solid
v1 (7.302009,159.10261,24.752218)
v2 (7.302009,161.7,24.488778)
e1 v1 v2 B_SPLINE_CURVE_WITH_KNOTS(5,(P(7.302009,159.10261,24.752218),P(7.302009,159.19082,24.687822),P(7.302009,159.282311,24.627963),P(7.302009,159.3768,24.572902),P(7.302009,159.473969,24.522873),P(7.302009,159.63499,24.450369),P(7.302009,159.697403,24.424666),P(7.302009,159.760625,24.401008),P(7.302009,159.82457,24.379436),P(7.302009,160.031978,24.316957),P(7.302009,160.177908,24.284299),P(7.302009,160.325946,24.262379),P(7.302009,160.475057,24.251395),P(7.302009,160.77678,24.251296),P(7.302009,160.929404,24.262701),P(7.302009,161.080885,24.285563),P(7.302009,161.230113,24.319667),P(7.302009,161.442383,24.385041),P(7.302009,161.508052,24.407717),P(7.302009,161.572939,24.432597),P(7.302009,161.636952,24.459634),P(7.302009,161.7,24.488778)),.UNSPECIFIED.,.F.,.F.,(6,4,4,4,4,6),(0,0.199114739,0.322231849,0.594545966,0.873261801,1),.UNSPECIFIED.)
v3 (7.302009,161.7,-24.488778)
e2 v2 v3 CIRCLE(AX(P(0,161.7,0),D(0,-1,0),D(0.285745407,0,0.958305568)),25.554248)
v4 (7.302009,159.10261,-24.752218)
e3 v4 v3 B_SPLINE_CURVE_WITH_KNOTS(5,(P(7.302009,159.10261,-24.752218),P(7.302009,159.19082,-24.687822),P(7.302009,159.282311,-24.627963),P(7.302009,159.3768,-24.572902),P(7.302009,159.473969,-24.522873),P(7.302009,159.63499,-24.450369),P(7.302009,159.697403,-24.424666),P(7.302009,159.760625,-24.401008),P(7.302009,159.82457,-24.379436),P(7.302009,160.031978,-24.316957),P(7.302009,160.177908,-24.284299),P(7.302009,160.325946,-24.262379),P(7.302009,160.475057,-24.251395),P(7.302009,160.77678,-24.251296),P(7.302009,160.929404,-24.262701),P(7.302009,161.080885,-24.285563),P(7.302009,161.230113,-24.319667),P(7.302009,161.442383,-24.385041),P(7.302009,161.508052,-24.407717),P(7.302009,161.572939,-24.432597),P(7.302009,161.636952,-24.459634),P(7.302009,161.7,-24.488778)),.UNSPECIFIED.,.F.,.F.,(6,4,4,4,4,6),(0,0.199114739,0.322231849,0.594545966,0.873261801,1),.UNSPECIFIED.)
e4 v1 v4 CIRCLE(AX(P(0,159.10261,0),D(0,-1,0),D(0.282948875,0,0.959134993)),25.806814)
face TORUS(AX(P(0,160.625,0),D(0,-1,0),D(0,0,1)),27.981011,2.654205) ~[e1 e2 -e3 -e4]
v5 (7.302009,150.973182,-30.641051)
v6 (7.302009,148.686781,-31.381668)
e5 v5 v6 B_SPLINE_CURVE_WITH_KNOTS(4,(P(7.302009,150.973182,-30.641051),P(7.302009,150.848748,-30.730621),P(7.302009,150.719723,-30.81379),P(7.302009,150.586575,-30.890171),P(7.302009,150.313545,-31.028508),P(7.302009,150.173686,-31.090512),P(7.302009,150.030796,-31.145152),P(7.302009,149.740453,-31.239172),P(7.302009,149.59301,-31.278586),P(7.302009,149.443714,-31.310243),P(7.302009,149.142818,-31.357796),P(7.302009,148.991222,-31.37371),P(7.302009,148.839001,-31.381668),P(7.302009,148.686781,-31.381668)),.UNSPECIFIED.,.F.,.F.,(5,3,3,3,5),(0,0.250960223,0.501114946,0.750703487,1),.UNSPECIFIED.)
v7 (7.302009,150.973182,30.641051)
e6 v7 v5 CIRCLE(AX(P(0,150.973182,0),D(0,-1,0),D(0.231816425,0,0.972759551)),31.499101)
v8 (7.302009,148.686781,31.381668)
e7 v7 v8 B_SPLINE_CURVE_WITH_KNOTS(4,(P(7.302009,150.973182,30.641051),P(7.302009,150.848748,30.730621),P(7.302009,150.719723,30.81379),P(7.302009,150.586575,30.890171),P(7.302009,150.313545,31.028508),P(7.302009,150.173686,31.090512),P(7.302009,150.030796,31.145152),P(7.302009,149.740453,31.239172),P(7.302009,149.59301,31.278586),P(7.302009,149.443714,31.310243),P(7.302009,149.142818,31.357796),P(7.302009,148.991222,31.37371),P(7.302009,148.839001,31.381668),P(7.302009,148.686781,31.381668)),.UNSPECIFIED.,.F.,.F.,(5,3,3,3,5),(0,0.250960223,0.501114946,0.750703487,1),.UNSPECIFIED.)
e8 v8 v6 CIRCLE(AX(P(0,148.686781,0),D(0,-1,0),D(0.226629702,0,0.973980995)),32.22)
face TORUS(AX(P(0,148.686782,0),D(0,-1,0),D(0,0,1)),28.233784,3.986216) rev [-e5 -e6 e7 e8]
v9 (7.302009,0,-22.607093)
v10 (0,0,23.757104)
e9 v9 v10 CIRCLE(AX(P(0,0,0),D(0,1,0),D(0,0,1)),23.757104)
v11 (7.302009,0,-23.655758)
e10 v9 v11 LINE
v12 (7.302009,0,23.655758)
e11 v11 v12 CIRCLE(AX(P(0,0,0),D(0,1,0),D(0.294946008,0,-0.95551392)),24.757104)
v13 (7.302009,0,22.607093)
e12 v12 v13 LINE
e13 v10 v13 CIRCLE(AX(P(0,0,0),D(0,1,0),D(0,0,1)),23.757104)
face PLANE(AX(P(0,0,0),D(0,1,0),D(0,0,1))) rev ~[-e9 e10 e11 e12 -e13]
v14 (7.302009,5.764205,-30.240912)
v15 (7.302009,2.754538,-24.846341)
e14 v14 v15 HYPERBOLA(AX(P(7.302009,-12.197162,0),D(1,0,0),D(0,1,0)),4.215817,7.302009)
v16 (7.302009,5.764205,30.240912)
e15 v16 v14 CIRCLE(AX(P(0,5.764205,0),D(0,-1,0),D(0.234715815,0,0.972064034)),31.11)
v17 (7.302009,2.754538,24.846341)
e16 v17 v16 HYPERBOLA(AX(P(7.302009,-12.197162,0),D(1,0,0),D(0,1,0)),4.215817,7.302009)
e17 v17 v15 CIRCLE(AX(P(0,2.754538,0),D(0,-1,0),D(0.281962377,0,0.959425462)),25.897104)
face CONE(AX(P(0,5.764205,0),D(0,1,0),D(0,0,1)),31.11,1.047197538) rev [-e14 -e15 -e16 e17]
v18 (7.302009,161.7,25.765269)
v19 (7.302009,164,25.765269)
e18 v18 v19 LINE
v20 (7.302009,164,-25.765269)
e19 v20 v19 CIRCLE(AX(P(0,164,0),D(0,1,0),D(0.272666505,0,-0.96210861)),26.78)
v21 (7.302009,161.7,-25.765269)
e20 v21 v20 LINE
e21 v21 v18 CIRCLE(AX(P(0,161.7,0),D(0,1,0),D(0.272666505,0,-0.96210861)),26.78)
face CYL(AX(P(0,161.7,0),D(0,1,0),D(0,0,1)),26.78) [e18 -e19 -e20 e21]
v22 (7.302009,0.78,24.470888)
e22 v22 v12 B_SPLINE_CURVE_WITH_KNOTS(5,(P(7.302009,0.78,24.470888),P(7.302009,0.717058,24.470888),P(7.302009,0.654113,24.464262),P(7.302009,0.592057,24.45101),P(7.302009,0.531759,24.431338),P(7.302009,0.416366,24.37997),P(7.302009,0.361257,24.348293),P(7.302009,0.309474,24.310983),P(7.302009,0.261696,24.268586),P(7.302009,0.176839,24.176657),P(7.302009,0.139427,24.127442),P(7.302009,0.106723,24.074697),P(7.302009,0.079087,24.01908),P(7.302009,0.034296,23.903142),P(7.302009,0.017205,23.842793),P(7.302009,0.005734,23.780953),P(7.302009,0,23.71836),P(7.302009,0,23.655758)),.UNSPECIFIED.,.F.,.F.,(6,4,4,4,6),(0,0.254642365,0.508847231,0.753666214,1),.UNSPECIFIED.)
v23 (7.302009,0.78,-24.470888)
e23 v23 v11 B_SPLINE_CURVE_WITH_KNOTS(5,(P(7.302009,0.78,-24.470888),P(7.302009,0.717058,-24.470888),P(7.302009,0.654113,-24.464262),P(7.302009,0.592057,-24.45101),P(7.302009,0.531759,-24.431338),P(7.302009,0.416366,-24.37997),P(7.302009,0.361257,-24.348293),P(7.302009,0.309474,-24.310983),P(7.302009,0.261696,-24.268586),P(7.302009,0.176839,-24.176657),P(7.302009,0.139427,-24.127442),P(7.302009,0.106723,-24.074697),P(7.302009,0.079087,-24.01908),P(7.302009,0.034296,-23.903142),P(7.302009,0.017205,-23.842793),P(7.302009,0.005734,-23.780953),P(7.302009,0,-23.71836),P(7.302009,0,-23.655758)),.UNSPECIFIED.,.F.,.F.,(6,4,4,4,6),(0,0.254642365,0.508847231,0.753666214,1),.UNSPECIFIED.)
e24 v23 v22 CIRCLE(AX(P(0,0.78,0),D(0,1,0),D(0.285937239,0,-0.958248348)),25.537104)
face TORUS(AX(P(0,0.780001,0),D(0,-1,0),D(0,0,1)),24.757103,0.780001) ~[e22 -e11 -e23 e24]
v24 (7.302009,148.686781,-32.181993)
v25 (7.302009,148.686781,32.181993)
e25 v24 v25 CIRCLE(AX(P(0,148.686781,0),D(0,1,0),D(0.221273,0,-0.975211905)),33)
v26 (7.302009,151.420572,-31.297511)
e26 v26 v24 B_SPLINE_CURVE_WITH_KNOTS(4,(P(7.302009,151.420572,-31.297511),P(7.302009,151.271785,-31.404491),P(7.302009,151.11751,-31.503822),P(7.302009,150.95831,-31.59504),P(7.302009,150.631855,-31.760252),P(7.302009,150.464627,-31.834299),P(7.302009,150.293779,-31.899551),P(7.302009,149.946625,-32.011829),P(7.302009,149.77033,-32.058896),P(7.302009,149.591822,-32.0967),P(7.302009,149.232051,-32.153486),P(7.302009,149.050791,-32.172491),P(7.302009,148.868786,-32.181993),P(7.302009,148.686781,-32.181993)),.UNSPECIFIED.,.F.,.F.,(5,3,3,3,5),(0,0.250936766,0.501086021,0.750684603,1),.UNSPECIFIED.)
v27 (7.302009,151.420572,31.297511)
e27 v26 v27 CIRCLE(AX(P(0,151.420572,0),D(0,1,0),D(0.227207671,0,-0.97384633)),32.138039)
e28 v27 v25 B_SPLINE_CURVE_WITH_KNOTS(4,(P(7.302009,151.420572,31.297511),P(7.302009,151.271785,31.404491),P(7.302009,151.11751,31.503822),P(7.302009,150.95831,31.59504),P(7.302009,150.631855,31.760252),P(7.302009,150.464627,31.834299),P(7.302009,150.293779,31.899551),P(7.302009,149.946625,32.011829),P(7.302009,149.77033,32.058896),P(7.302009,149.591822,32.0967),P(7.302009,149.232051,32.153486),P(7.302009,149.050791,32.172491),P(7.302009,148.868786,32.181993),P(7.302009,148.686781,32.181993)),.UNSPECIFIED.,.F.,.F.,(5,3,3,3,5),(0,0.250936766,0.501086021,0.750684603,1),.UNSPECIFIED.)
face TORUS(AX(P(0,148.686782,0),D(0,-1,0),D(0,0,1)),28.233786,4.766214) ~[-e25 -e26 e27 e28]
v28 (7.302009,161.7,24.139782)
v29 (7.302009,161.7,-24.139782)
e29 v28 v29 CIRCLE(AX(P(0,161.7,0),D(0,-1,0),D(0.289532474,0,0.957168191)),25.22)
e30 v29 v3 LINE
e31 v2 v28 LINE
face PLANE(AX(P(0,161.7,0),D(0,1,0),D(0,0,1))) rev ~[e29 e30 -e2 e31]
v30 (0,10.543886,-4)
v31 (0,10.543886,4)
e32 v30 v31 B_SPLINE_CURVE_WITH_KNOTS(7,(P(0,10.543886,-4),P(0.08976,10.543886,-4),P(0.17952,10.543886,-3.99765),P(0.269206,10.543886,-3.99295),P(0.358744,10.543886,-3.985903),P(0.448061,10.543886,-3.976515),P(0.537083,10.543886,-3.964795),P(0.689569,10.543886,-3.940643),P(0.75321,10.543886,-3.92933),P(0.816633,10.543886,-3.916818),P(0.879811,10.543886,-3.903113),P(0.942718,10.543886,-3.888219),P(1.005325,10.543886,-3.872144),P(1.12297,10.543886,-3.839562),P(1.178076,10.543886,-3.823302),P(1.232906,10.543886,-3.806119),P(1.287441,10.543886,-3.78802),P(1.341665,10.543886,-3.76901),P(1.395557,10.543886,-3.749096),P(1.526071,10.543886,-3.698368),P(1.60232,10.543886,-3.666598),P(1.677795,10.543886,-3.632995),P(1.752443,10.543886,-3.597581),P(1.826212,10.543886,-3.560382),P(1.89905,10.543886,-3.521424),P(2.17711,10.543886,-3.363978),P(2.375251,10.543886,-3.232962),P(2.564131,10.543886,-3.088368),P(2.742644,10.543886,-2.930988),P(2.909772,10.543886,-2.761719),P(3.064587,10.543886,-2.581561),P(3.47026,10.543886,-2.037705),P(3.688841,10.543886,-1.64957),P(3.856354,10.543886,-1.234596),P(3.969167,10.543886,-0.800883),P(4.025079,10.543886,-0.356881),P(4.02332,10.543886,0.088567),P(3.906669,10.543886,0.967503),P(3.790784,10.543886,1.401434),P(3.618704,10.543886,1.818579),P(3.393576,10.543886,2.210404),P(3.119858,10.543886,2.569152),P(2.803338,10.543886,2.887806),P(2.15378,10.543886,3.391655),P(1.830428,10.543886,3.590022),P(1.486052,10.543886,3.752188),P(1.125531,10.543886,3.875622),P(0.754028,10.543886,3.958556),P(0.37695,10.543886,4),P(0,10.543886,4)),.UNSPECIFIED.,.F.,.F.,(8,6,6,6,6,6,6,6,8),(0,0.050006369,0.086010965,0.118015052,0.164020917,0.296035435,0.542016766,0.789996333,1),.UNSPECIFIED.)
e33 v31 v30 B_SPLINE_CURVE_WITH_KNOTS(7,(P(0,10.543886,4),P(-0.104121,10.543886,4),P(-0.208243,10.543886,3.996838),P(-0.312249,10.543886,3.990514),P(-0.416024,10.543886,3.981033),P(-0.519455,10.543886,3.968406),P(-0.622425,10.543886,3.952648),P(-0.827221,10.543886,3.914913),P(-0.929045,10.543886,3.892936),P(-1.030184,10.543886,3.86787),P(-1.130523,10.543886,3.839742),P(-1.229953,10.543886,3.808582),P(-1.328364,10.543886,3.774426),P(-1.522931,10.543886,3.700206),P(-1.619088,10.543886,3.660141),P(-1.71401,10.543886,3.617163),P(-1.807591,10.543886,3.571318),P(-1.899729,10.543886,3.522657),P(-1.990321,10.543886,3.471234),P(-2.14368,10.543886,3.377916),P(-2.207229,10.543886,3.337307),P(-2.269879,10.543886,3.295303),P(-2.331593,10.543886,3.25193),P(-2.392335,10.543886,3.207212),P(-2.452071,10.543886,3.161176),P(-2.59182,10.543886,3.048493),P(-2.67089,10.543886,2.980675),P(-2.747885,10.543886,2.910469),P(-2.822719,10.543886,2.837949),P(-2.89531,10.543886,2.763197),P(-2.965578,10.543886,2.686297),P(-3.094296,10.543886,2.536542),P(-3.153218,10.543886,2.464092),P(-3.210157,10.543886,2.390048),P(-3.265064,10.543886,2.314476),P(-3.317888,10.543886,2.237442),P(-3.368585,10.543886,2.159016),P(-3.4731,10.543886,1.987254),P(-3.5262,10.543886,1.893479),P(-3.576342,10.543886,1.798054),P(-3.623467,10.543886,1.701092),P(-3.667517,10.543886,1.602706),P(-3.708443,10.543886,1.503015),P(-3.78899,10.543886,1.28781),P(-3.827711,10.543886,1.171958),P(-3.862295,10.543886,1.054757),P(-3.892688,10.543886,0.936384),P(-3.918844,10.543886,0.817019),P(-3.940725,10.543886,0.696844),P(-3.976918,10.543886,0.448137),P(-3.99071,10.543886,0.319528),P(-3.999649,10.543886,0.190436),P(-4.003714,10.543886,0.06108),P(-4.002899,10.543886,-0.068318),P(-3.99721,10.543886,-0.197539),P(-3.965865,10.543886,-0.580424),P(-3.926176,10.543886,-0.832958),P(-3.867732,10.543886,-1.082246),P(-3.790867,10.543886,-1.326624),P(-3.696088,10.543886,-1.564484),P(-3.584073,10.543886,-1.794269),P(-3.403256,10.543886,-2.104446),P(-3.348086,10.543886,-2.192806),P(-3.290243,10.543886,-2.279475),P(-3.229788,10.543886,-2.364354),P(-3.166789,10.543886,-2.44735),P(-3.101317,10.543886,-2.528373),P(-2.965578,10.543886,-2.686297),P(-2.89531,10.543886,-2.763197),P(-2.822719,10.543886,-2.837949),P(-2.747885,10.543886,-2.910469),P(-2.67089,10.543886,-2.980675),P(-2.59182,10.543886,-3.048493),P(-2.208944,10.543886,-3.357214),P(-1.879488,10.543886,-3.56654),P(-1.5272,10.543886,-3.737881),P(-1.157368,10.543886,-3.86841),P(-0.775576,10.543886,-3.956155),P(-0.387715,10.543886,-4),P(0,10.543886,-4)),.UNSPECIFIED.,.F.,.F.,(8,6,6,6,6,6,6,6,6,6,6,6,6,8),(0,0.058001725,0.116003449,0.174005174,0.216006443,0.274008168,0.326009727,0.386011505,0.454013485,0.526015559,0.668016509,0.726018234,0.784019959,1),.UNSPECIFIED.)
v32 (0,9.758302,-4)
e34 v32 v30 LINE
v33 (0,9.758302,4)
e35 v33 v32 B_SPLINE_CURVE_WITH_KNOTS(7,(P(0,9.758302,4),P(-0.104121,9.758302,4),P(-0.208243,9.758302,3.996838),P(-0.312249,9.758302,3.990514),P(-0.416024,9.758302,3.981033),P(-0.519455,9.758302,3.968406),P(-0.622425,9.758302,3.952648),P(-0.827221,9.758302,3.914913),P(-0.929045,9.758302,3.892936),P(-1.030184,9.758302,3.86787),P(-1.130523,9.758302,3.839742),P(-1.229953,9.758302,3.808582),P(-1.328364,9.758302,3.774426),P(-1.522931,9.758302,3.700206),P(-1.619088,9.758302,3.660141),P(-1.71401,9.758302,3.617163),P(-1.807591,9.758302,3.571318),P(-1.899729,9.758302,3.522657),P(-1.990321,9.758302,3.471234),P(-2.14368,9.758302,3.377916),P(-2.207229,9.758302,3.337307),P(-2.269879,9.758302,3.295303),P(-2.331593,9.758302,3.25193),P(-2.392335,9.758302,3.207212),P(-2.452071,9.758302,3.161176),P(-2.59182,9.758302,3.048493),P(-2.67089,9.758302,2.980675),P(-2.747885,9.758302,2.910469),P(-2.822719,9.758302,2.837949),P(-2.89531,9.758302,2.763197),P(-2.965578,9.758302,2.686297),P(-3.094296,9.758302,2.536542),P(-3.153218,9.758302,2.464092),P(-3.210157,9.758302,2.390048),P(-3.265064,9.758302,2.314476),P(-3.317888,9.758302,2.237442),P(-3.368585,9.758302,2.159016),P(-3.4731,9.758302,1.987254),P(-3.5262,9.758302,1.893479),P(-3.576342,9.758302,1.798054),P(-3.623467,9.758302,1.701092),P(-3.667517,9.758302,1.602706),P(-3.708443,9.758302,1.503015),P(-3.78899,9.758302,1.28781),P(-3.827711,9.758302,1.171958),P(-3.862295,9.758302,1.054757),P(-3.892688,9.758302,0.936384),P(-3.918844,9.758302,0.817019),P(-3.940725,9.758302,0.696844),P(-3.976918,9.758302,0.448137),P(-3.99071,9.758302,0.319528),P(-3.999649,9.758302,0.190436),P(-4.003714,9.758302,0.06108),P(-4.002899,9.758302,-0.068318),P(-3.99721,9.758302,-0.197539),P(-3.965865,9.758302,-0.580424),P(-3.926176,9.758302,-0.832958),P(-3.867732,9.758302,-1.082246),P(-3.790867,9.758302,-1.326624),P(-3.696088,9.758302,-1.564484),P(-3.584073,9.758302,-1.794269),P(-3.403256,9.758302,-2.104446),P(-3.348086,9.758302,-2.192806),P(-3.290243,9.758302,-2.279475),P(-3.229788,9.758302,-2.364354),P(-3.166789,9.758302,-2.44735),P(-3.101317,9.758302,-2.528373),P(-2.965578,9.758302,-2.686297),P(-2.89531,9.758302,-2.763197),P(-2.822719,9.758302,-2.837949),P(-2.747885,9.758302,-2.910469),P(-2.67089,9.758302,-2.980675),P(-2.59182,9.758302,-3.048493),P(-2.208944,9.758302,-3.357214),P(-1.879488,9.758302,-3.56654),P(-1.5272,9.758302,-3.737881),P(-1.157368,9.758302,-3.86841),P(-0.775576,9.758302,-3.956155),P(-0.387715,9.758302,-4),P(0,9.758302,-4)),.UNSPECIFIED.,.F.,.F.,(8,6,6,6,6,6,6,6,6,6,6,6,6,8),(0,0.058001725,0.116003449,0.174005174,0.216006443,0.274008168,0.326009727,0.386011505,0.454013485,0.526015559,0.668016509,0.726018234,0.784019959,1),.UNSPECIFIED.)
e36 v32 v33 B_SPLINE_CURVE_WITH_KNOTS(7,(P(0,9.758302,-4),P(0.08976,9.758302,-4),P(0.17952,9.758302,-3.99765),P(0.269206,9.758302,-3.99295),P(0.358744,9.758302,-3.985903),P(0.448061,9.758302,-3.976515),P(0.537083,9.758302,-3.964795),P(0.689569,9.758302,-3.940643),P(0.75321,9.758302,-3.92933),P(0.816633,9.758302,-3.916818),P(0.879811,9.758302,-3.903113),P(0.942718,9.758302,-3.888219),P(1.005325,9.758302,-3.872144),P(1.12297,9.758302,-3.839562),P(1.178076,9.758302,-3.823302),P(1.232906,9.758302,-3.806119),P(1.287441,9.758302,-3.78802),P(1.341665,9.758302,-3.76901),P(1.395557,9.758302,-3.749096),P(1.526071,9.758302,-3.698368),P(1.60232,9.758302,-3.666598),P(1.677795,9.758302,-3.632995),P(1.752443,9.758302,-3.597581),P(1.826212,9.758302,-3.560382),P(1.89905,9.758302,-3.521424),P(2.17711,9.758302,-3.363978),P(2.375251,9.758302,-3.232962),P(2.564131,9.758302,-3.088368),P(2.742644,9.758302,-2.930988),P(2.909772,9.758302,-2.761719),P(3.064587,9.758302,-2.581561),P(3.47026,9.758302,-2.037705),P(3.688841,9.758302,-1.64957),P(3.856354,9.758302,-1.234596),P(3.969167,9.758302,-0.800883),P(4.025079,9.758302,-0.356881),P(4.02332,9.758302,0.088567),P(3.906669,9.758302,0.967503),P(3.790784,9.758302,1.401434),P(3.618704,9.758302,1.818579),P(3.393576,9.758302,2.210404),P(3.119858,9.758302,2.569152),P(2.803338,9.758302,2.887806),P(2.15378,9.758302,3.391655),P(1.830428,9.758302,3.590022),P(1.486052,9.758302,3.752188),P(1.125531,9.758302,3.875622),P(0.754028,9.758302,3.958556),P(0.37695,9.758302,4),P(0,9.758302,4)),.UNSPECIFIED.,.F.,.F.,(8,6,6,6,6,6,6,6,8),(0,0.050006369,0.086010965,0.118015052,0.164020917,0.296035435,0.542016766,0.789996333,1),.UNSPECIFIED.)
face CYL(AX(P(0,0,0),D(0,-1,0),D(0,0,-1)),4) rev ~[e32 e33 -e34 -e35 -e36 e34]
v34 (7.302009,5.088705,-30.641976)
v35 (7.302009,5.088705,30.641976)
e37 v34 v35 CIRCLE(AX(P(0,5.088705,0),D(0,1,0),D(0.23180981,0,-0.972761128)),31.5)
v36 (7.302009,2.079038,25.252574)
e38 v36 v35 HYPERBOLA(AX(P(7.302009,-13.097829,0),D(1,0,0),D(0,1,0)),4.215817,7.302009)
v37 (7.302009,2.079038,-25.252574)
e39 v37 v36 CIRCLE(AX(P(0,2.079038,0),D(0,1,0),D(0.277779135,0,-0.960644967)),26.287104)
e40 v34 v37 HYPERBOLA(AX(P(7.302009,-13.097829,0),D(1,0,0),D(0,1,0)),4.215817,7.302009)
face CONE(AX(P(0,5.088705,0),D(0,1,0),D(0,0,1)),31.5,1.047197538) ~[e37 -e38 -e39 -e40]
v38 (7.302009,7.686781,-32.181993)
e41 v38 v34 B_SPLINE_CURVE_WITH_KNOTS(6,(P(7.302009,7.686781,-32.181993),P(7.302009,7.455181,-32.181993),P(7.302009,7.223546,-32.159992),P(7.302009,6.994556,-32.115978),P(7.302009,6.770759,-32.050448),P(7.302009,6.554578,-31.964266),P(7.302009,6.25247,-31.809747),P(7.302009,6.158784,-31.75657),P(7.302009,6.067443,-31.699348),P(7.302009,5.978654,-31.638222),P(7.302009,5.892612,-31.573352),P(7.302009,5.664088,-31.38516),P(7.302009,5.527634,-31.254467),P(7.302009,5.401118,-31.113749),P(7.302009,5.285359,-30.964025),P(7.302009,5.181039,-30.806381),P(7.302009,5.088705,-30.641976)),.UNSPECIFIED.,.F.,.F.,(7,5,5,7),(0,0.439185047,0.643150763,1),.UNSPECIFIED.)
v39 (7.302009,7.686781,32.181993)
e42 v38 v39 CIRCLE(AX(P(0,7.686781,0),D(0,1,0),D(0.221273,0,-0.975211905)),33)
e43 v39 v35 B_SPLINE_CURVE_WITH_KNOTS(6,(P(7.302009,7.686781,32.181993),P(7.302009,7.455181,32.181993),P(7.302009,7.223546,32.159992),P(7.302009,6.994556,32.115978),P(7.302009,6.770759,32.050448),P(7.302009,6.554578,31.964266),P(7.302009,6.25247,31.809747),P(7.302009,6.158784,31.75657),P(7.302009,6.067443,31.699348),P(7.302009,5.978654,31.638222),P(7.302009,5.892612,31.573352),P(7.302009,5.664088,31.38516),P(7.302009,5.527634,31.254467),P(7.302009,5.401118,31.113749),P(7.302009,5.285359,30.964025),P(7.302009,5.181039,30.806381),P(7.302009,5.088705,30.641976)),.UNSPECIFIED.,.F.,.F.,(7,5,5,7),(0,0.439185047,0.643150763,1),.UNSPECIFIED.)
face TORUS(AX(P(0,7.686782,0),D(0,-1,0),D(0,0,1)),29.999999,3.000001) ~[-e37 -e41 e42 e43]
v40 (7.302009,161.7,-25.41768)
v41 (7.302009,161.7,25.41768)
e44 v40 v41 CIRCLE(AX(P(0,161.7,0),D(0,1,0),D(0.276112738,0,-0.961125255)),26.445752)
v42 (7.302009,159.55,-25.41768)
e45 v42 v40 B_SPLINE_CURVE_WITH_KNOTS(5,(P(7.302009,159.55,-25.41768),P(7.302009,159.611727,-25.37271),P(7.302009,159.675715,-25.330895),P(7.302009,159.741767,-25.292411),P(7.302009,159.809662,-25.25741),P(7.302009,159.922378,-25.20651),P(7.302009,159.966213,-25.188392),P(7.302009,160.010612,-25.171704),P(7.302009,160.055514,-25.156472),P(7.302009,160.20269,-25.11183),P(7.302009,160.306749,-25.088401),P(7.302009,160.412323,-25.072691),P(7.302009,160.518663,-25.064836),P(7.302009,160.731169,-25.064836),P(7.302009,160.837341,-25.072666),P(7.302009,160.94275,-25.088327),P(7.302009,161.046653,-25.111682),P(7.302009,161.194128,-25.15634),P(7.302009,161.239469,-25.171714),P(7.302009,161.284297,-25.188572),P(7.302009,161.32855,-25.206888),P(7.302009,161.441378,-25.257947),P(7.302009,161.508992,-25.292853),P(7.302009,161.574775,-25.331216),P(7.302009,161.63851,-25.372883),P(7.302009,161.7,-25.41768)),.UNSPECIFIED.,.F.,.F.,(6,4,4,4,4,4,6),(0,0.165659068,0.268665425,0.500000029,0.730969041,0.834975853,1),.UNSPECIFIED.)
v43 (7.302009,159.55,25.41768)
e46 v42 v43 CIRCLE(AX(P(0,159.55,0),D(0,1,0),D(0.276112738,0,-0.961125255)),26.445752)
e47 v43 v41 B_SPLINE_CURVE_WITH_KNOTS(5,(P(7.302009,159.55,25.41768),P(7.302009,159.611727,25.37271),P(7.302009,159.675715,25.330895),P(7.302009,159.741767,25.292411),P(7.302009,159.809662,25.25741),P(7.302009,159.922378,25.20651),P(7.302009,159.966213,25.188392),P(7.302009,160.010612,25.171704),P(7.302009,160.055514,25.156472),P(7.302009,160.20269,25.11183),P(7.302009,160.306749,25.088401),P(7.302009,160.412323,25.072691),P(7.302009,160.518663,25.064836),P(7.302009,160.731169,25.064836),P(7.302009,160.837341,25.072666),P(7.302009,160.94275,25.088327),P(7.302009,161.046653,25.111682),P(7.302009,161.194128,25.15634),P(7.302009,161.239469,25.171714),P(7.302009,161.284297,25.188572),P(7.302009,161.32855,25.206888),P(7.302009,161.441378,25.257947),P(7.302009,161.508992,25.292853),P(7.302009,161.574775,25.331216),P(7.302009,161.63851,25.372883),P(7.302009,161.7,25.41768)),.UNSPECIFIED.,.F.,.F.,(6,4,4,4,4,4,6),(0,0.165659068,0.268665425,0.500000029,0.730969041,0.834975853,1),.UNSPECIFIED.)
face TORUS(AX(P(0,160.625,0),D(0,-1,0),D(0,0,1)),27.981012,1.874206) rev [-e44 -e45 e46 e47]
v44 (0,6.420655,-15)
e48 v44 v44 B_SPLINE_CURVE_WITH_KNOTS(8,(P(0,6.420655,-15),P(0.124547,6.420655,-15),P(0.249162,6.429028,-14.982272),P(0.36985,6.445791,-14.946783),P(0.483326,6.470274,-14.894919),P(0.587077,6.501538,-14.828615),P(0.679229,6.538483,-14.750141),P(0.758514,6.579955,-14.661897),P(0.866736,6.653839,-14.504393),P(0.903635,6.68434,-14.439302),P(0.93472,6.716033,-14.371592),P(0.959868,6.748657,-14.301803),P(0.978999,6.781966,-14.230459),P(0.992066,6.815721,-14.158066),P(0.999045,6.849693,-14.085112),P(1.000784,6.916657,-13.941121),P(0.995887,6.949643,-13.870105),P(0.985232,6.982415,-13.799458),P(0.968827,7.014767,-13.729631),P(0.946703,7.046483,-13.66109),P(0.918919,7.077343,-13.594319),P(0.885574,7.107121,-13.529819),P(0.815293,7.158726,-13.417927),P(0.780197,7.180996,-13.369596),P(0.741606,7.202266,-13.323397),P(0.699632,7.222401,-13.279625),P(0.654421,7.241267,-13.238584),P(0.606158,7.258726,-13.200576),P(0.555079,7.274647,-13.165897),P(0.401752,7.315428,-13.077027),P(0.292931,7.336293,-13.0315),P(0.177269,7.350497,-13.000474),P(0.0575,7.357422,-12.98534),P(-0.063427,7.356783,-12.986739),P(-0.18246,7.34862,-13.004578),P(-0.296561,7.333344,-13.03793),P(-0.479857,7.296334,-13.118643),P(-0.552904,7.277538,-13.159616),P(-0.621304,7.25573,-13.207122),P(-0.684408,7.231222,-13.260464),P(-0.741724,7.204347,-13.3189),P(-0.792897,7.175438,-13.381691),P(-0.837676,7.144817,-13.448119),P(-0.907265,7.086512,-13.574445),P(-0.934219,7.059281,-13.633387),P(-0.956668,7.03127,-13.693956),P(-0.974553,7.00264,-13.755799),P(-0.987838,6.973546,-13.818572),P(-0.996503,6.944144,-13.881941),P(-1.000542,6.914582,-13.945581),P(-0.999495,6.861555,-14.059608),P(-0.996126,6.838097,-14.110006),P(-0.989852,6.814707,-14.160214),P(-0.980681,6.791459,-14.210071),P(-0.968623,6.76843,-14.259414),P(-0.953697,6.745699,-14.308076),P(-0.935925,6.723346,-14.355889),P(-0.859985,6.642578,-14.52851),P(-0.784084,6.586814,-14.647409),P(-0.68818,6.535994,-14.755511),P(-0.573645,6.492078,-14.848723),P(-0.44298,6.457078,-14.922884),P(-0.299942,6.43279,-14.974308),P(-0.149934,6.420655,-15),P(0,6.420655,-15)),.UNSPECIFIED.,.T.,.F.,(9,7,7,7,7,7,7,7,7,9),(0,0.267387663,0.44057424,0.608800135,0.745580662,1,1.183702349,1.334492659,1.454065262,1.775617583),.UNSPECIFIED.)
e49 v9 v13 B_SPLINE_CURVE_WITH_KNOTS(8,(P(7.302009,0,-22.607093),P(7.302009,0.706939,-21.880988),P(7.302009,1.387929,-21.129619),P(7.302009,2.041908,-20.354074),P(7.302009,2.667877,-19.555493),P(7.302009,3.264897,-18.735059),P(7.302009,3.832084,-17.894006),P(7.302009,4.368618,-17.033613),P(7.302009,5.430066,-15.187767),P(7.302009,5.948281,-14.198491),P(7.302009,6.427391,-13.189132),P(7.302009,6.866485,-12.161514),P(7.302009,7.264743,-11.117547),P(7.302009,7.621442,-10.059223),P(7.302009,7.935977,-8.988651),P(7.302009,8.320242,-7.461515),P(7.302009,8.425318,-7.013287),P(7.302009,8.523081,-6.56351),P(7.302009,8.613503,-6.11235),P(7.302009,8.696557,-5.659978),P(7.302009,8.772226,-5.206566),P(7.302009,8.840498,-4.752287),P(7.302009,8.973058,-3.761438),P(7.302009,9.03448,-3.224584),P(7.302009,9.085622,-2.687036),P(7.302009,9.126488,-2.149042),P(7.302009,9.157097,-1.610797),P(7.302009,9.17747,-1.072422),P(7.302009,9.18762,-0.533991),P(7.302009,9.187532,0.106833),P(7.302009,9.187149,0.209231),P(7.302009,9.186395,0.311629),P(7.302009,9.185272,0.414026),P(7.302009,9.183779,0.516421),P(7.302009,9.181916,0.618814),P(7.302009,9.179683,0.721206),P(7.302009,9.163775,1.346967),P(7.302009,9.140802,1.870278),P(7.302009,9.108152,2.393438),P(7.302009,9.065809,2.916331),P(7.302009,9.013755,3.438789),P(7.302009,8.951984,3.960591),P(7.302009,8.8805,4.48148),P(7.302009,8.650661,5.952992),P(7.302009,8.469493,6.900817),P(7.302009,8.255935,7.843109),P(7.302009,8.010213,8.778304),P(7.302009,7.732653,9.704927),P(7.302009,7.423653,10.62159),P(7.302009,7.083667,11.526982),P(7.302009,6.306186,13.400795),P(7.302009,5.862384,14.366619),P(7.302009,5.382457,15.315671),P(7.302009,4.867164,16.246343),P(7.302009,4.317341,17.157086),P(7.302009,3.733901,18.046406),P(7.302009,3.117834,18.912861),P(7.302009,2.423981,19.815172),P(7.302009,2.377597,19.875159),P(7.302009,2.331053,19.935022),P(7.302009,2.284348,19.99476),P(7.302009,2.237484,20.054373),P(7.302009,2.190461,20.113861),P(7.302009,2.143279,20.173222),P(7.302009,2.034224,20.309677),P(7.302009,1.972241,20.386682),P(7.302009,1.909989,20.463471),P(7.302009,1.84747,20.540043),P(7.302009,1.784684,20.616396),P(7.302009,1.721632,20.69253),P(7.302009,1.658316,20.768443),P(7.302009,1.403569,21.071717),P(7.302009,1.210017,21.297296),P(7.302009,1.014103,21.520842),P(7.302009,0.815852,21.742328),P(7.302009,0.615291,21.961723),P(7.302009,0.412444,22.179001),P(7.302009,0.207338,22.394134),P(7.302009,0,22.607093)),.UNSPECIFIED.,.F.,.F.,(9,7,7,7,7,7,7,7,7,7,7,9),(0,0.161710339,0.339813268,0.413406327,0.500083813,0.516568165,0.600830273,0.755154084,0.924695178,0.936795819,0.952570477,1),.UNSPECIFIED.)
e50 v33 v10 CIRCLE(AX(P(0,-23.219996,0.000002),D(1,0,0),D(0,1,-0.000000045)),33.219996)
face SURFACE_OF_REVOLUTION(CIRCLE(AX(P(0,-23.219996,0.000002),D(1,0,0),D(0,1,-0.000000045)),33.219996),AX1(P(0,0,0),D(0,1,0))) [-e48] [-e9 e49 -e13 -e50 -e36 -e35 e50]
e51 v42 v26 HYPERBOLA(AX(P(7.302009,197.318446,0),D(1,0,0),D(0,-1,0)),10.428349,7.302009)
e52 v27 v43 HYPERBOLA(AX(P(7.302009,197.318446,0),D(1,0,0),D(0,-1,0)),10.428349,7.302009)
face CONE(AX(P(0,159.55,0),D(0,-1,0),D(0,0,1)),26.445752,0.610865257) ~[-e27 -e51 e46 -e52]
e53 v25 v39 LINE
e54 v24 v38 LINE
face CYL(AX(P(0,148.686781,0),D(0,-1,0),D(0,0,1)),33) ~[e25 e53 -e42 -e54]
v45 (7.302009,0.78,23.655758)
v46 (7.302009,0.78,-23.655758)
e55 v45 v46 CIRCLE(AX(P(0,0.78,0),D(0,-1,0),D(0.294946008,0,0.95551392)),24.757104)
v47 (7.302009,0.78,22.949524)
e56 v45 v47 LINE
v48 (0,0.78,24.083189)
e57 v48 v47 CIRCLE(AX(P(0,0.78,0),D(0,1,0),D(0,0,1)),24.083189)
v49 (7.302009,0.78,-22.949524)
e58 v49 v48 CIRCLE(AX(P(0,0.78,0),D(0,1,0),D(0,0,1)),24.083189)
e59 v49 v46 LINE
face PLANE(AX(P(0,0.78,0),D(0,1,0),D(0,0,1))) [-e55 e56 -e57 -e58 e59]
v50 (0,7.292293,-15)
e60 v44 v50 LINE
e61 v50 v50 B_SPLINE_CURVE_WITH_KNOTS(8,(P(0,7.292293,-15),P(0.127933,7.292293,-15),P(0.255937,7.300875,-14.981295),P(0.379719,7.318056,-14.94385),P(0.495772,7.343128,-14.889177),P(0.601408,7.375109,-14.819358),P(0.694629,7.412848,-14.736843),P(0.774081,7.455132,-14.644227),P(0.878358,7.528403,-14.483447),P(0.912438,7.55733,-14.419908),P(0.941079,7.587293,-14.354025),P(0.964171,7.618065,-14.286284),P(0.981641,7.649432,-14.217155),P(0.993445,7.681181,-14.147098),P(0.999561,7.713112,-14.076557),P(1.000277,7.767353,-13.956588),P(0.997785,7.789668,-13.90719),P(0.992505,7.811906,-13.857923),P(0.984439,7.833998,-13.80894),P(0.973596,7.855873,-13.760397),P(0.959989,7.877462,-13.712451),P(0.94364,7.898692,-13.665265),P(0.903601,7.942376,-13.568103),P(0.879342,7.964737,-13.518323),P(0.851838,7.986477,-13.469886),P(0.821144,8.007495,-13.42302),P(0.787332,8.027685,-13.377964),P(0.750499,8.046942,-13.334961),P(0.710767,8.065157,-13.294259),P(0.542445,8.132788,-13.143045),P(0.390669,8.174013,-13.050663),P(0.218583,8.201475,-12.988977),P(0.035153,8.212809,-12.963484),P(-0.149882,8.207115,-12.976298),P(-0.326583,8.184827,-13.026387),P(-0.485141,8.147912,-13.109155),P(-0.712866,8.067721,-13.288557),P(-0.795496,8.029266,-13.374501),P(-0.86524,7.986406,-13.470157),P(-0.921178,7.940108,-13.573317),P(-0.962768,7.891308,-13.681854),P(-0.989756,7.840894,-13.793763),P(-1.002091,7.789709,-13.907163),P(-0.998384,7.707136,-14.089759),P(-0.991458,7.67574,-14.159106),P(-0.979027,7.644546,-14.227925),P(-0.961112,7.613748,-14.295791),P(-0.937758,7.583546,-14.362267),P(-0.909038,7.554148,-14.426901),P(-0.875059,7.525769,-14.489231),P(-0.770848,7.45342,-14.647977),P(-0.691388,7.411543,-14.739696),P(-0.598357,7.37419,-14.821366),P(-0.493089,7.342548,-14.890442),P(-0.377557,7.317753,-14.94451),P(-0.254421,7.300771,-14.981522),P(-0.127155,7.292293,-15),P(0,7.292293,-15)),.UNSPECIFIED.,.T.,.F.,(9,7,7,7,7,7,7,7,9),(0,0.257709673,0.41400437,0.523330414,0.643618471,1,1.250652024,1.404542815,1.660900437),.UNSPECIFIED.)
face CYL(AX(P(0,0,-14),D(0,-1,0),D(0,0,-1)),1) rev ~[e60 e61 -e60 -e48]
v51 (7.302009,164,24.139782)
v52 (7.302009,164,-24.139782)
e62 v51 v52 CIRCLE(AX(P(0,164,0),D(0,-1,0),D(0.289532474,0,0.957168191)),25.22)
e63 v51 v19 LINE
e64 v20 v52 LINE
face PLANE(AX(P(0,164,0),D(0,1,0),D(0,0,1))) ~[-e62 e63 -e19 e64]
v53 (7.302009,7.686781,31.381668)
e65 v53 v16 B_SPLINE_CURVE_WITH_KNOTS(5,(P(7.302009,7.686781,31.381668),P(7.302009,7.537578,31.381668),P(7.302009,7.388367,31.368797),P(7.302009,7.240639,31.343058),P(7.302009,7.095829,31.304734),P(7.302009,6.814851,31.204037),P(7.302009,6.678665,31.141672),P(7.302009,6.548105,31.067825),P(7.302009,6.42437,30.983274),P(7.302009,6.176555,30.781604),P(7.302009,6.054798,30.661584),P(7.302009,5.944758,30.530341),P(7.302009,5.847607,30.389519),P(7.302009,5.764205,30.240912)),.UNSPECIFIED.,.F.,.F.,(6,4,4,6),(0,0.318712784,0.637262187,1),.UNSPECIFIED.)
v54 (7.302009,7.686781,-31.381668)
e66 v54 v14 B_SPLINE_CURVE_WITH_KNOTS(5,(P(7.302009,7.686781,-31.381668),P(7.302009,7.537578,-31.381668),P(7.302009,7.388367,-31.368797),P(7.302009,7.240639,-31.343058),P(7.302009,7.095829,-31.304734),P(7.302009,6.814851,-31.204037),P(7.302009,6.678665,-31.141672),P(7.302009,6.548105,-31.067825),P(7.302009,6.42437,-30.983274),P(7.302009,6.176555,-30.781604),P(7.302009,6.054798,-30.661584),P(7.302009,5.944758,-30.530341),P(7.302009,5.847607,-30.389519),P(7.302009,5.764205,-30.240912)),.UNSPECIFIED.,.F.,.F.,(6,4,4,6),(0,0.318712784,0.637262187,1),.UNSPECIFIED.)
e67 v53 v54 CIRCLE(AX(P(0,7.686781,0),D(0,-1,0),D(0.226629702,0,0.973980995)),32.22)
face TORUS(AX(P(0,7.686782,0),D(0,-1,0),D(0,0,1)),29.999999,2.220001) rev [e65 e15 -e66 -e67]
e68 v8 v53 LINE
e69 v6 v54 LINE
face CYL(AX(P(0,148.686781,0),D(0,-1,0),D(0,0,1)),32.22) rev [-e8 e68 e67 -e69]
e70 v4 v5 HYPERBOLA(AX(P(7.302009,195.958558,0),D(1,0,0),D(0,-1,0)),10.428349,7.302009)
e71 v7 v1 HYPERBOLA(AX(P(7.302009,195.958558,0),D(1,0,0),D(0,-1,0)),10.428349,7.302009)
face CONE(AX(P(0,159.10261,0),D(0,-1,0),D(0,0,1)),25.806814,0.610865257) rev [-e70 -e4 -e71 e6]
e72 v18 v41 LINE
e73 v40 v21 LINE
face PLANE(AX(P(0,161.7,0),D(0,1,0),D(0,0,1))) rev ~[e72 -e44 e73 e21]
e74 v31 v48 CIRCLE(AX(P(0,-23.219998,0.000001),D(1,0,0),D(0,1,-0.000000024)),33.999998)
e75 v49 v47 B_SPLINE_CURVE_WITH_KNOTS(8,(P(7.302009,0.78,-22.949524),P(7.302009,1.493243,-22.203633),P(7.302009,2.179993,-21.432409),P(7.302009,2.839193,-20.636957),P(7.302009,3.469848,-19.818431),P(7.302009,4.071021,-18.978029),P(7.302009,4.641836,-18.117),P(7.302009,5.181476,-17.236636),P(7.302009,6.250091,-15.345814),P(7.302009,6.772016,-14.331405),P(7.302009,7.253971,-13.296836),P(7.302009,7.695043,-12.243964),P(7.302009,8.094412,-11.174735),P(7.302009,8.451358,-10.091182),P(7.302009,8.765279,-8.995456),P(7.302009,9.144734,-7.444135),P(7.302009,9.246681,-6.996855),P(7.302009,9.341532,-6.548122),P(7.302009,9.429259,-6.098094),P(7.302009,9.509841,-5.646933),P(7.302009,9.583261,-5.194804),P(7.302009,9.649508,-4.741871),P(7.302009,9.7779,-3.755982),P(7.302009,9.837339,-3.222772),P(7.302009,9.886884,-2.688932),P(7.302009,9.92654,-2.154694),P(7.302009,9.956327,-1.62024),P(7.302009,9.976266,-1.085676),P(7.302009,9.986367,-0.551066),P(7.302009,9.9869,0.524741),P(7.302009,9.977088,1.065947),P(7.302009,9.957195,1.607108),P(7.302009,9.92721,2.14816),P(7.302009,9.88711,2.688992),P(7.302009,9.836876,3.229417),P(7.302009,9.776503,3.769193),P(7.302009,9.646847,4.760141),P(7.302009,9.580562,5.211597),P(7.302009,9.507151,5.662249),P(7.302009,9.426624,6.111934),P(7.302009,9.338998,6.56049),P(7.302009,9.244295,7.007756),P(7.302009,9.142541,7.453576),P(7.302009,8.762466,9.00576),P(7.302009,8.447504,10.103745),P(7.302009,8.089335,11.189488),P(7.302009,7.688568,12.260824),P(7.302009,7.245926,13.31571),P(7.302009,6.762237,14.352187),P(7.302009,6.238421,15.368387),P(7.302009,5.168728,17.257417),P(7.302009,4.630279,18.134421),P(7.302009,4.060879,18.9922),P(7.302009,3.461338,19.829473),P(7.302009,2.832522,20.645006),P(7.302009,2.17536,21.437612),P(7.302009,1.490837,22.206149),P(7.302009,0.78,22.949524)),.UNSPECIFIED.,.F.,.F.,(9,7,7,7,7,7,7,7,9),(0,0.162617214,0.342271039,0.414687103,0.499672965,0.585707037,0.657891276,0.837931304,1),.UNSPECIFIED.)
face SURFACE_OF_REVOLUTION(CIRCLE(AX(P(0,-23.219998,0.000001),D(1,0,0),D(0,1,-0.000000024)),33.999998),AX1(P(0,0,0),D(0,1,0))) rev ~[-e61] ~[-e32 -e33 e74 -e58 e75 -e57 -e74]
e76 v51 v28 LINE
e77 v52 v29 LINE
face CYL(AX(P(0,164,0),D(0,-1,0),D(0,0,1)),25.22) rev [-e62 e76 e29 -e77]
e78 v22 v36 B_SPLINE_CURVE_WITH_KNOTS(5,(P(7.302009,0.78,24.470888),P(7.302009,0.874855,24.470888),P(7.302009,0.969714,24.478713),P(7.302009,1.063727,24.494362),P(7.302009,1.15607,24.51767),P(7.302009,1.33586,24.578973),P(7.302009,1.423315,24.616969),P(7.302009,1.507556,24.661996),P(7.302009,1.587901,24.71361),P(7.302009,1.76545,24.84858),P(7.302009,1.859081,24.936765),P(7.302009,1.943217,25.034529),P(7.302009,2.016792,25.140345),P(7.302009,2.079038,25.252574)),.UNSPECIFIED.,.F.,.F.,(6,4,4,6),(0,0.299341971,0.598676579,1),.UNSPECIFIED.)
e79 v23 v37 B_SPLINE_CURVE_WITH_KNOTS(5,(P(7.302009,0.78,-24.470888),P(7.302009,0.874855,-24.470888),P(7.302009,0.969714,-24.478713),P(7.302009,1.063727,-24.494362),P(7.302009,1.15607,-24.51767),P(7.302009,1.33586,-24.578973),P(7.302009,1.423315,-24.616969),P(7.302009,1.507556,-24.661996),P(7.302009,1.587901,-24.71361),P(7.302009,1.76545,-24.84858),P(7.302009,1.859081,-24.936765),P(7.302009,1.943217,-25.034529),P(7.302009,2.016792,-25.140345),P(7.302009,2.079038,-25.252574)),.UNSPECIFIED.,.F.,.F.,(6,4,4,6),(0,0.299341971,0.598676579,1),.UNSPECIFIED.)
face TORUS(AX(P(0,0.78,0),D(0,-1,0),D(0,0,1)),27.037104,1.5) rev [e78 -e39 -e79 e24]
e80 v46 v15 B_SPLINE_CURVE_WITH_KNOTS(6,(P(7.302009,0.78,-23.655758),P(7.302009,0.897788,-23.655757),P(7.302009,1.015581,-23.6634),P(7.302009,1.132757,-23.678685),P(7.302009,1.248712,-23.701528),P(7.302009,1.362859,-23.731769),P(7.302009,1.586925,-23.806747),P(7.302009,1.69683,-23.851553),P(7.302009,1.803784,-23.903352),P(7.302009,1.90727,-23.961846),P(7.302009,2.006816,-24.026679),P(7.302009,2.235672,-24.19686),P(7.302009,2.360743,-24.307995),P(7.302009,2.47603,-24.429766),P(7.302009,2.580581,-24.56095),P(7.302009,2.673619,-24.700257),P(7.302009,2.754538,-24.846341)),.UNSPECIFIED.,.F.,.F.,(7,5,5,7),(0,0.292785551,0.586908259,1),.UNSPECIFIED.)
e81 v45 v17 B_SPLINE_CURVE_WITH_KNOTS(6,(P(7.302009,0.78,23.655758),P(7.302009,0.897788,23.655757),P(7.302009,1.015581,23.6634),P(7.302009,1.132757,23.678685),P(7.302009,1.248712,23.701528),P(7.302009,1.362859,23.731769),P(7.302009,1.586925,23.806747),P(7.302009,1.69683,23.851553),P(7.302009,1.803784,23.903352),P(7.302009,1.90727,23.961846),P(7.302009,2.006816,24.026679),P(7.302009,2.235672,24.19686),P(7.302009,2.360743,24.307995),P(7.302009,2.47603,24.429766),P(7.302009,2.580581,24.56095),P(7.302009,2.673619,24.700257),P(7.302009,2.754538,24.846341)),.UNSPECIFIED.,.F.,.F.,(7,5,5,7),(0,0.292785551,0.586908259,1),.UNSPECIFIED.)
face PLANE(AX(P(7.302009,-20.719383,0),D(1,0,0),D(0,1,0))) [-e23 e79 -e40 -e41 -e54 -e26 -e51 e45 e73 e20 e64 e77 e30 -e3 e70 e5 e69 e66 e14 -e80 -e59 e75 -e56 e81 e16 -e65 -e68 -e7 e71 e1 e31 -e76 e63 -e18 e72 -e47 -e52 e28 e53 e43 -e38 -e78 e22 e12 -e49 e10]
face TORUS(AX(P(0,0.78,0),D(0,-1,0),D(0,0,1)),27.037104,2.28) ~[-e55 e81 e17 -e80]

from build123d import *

# Parameters (mm, degrees)
SKETCH010_R     = 4
SKETCH010_R_2   = 1
POCKET002_DEPTH = 11
SKETCH011_W     = 31.964898
SKETCH011_H     = 190.037925
POCKET003_DEPTH = 33


with BuildPart() as part:
    # Sketch009 → Revolution001 (revolve)
    with BuildSketch(Plane.YZ):
        with BuildLine():
            Line((164, 25.22), (164, 26.78))
            Line((161.7, 26.78), (164, 26.78))
            Line((161.7, 26.78), (161.7, 26.445752))
            ThreePointArc((159.55, 26.445752), (160.625, 26.106806), (161.7, 26.445752))
            Line((159.55, 26.445752), (151.420572, 32.138039))
            ThreePointArc((151.420572, 32.138039), (150.120011, 32.779405), (148.686781, 33))
            Line((148.686781, 33), (7.686781, 33))
            ThreePointArc((7.686781, 33), (6.186781, 32.598076), (5.088705, 31.5))
            Line((5.088705, 31.5), (2.079038, 26.287104))
            ThreePointArc((0.78, 25.537104), (1.53, 25.738066), (2.079038, 26.287104))
            ThreePointArc((0.78, 25.537104), (0.228457, 25.308647), (0, 24.757104))
            Line((0, 24.757104), (0, 23.757104))
            ThreePointArc((10, 0), (7.398106, 12.887979), (0, 23.757104))
            Line((10, 0), (10.78, 0))
            ThreePointArc((10.78, 0), (8.180637, 13.038405), (0.78, 24.083189))
            Line((0.78, 24.757104), (0.78, 24.083189))
            ThreePointArc((0.78, 24.757104), (1.92, 25.062566), (2.754538, 25.897104))
            Line((5.764205, 31.11), (2.754538, 25.897104))
            ThreePointArc((7.686781, 32.22), (6.576781, 31.922576), (5.764205, 31.11))
            Line((148.686781, 32.22), (7.686781, 32.22))
            ThreePointArc((150.973182, 31.499101), (149.88546, 32.035506), (148.686781, 32.22))
            Line((159.10261, 25.806814), (150.973182, 31.499101))
            ThreePointArc((159.10261, 25.806814), (160.368121, 25.339266), (161.7, 25.554248))
            Line((161.7, 25.554248), (161.7, 25.22))
            Line((164, 25.22), (161.7, 25.22))
        make_face()
    revolve(axis=Axis((0, 0, 0), (0, 1, 0)))

    # Sketch010 (on Face15 of Revolution001) → Pocket002 (cut)
    with BuildSketch(Plane(origin=(0, 0, 0), x_dir=(0, 0, -1), z_dir=(0, -1, 0))):
        Circle(SKETCH010_R)
        with Locations((14, 0)):
            Circle(SKETCH010_R_2)
    extrude(amount=-POCKET002_DEPTH, mode=Mode.SUBTRACT)

    # Sketch011 → Pocket003 (cut, symmetric)
    with BuildSketch(Plane.XY):
        with Locations((23.284458, 74.299579)):
            Rectangle(SKETCH011_W, SKETCH011_H)
    extrude(amount=POCKET003_DEPTH, both=True, mode=Mode.SUBTRACT)


solid = part.part
